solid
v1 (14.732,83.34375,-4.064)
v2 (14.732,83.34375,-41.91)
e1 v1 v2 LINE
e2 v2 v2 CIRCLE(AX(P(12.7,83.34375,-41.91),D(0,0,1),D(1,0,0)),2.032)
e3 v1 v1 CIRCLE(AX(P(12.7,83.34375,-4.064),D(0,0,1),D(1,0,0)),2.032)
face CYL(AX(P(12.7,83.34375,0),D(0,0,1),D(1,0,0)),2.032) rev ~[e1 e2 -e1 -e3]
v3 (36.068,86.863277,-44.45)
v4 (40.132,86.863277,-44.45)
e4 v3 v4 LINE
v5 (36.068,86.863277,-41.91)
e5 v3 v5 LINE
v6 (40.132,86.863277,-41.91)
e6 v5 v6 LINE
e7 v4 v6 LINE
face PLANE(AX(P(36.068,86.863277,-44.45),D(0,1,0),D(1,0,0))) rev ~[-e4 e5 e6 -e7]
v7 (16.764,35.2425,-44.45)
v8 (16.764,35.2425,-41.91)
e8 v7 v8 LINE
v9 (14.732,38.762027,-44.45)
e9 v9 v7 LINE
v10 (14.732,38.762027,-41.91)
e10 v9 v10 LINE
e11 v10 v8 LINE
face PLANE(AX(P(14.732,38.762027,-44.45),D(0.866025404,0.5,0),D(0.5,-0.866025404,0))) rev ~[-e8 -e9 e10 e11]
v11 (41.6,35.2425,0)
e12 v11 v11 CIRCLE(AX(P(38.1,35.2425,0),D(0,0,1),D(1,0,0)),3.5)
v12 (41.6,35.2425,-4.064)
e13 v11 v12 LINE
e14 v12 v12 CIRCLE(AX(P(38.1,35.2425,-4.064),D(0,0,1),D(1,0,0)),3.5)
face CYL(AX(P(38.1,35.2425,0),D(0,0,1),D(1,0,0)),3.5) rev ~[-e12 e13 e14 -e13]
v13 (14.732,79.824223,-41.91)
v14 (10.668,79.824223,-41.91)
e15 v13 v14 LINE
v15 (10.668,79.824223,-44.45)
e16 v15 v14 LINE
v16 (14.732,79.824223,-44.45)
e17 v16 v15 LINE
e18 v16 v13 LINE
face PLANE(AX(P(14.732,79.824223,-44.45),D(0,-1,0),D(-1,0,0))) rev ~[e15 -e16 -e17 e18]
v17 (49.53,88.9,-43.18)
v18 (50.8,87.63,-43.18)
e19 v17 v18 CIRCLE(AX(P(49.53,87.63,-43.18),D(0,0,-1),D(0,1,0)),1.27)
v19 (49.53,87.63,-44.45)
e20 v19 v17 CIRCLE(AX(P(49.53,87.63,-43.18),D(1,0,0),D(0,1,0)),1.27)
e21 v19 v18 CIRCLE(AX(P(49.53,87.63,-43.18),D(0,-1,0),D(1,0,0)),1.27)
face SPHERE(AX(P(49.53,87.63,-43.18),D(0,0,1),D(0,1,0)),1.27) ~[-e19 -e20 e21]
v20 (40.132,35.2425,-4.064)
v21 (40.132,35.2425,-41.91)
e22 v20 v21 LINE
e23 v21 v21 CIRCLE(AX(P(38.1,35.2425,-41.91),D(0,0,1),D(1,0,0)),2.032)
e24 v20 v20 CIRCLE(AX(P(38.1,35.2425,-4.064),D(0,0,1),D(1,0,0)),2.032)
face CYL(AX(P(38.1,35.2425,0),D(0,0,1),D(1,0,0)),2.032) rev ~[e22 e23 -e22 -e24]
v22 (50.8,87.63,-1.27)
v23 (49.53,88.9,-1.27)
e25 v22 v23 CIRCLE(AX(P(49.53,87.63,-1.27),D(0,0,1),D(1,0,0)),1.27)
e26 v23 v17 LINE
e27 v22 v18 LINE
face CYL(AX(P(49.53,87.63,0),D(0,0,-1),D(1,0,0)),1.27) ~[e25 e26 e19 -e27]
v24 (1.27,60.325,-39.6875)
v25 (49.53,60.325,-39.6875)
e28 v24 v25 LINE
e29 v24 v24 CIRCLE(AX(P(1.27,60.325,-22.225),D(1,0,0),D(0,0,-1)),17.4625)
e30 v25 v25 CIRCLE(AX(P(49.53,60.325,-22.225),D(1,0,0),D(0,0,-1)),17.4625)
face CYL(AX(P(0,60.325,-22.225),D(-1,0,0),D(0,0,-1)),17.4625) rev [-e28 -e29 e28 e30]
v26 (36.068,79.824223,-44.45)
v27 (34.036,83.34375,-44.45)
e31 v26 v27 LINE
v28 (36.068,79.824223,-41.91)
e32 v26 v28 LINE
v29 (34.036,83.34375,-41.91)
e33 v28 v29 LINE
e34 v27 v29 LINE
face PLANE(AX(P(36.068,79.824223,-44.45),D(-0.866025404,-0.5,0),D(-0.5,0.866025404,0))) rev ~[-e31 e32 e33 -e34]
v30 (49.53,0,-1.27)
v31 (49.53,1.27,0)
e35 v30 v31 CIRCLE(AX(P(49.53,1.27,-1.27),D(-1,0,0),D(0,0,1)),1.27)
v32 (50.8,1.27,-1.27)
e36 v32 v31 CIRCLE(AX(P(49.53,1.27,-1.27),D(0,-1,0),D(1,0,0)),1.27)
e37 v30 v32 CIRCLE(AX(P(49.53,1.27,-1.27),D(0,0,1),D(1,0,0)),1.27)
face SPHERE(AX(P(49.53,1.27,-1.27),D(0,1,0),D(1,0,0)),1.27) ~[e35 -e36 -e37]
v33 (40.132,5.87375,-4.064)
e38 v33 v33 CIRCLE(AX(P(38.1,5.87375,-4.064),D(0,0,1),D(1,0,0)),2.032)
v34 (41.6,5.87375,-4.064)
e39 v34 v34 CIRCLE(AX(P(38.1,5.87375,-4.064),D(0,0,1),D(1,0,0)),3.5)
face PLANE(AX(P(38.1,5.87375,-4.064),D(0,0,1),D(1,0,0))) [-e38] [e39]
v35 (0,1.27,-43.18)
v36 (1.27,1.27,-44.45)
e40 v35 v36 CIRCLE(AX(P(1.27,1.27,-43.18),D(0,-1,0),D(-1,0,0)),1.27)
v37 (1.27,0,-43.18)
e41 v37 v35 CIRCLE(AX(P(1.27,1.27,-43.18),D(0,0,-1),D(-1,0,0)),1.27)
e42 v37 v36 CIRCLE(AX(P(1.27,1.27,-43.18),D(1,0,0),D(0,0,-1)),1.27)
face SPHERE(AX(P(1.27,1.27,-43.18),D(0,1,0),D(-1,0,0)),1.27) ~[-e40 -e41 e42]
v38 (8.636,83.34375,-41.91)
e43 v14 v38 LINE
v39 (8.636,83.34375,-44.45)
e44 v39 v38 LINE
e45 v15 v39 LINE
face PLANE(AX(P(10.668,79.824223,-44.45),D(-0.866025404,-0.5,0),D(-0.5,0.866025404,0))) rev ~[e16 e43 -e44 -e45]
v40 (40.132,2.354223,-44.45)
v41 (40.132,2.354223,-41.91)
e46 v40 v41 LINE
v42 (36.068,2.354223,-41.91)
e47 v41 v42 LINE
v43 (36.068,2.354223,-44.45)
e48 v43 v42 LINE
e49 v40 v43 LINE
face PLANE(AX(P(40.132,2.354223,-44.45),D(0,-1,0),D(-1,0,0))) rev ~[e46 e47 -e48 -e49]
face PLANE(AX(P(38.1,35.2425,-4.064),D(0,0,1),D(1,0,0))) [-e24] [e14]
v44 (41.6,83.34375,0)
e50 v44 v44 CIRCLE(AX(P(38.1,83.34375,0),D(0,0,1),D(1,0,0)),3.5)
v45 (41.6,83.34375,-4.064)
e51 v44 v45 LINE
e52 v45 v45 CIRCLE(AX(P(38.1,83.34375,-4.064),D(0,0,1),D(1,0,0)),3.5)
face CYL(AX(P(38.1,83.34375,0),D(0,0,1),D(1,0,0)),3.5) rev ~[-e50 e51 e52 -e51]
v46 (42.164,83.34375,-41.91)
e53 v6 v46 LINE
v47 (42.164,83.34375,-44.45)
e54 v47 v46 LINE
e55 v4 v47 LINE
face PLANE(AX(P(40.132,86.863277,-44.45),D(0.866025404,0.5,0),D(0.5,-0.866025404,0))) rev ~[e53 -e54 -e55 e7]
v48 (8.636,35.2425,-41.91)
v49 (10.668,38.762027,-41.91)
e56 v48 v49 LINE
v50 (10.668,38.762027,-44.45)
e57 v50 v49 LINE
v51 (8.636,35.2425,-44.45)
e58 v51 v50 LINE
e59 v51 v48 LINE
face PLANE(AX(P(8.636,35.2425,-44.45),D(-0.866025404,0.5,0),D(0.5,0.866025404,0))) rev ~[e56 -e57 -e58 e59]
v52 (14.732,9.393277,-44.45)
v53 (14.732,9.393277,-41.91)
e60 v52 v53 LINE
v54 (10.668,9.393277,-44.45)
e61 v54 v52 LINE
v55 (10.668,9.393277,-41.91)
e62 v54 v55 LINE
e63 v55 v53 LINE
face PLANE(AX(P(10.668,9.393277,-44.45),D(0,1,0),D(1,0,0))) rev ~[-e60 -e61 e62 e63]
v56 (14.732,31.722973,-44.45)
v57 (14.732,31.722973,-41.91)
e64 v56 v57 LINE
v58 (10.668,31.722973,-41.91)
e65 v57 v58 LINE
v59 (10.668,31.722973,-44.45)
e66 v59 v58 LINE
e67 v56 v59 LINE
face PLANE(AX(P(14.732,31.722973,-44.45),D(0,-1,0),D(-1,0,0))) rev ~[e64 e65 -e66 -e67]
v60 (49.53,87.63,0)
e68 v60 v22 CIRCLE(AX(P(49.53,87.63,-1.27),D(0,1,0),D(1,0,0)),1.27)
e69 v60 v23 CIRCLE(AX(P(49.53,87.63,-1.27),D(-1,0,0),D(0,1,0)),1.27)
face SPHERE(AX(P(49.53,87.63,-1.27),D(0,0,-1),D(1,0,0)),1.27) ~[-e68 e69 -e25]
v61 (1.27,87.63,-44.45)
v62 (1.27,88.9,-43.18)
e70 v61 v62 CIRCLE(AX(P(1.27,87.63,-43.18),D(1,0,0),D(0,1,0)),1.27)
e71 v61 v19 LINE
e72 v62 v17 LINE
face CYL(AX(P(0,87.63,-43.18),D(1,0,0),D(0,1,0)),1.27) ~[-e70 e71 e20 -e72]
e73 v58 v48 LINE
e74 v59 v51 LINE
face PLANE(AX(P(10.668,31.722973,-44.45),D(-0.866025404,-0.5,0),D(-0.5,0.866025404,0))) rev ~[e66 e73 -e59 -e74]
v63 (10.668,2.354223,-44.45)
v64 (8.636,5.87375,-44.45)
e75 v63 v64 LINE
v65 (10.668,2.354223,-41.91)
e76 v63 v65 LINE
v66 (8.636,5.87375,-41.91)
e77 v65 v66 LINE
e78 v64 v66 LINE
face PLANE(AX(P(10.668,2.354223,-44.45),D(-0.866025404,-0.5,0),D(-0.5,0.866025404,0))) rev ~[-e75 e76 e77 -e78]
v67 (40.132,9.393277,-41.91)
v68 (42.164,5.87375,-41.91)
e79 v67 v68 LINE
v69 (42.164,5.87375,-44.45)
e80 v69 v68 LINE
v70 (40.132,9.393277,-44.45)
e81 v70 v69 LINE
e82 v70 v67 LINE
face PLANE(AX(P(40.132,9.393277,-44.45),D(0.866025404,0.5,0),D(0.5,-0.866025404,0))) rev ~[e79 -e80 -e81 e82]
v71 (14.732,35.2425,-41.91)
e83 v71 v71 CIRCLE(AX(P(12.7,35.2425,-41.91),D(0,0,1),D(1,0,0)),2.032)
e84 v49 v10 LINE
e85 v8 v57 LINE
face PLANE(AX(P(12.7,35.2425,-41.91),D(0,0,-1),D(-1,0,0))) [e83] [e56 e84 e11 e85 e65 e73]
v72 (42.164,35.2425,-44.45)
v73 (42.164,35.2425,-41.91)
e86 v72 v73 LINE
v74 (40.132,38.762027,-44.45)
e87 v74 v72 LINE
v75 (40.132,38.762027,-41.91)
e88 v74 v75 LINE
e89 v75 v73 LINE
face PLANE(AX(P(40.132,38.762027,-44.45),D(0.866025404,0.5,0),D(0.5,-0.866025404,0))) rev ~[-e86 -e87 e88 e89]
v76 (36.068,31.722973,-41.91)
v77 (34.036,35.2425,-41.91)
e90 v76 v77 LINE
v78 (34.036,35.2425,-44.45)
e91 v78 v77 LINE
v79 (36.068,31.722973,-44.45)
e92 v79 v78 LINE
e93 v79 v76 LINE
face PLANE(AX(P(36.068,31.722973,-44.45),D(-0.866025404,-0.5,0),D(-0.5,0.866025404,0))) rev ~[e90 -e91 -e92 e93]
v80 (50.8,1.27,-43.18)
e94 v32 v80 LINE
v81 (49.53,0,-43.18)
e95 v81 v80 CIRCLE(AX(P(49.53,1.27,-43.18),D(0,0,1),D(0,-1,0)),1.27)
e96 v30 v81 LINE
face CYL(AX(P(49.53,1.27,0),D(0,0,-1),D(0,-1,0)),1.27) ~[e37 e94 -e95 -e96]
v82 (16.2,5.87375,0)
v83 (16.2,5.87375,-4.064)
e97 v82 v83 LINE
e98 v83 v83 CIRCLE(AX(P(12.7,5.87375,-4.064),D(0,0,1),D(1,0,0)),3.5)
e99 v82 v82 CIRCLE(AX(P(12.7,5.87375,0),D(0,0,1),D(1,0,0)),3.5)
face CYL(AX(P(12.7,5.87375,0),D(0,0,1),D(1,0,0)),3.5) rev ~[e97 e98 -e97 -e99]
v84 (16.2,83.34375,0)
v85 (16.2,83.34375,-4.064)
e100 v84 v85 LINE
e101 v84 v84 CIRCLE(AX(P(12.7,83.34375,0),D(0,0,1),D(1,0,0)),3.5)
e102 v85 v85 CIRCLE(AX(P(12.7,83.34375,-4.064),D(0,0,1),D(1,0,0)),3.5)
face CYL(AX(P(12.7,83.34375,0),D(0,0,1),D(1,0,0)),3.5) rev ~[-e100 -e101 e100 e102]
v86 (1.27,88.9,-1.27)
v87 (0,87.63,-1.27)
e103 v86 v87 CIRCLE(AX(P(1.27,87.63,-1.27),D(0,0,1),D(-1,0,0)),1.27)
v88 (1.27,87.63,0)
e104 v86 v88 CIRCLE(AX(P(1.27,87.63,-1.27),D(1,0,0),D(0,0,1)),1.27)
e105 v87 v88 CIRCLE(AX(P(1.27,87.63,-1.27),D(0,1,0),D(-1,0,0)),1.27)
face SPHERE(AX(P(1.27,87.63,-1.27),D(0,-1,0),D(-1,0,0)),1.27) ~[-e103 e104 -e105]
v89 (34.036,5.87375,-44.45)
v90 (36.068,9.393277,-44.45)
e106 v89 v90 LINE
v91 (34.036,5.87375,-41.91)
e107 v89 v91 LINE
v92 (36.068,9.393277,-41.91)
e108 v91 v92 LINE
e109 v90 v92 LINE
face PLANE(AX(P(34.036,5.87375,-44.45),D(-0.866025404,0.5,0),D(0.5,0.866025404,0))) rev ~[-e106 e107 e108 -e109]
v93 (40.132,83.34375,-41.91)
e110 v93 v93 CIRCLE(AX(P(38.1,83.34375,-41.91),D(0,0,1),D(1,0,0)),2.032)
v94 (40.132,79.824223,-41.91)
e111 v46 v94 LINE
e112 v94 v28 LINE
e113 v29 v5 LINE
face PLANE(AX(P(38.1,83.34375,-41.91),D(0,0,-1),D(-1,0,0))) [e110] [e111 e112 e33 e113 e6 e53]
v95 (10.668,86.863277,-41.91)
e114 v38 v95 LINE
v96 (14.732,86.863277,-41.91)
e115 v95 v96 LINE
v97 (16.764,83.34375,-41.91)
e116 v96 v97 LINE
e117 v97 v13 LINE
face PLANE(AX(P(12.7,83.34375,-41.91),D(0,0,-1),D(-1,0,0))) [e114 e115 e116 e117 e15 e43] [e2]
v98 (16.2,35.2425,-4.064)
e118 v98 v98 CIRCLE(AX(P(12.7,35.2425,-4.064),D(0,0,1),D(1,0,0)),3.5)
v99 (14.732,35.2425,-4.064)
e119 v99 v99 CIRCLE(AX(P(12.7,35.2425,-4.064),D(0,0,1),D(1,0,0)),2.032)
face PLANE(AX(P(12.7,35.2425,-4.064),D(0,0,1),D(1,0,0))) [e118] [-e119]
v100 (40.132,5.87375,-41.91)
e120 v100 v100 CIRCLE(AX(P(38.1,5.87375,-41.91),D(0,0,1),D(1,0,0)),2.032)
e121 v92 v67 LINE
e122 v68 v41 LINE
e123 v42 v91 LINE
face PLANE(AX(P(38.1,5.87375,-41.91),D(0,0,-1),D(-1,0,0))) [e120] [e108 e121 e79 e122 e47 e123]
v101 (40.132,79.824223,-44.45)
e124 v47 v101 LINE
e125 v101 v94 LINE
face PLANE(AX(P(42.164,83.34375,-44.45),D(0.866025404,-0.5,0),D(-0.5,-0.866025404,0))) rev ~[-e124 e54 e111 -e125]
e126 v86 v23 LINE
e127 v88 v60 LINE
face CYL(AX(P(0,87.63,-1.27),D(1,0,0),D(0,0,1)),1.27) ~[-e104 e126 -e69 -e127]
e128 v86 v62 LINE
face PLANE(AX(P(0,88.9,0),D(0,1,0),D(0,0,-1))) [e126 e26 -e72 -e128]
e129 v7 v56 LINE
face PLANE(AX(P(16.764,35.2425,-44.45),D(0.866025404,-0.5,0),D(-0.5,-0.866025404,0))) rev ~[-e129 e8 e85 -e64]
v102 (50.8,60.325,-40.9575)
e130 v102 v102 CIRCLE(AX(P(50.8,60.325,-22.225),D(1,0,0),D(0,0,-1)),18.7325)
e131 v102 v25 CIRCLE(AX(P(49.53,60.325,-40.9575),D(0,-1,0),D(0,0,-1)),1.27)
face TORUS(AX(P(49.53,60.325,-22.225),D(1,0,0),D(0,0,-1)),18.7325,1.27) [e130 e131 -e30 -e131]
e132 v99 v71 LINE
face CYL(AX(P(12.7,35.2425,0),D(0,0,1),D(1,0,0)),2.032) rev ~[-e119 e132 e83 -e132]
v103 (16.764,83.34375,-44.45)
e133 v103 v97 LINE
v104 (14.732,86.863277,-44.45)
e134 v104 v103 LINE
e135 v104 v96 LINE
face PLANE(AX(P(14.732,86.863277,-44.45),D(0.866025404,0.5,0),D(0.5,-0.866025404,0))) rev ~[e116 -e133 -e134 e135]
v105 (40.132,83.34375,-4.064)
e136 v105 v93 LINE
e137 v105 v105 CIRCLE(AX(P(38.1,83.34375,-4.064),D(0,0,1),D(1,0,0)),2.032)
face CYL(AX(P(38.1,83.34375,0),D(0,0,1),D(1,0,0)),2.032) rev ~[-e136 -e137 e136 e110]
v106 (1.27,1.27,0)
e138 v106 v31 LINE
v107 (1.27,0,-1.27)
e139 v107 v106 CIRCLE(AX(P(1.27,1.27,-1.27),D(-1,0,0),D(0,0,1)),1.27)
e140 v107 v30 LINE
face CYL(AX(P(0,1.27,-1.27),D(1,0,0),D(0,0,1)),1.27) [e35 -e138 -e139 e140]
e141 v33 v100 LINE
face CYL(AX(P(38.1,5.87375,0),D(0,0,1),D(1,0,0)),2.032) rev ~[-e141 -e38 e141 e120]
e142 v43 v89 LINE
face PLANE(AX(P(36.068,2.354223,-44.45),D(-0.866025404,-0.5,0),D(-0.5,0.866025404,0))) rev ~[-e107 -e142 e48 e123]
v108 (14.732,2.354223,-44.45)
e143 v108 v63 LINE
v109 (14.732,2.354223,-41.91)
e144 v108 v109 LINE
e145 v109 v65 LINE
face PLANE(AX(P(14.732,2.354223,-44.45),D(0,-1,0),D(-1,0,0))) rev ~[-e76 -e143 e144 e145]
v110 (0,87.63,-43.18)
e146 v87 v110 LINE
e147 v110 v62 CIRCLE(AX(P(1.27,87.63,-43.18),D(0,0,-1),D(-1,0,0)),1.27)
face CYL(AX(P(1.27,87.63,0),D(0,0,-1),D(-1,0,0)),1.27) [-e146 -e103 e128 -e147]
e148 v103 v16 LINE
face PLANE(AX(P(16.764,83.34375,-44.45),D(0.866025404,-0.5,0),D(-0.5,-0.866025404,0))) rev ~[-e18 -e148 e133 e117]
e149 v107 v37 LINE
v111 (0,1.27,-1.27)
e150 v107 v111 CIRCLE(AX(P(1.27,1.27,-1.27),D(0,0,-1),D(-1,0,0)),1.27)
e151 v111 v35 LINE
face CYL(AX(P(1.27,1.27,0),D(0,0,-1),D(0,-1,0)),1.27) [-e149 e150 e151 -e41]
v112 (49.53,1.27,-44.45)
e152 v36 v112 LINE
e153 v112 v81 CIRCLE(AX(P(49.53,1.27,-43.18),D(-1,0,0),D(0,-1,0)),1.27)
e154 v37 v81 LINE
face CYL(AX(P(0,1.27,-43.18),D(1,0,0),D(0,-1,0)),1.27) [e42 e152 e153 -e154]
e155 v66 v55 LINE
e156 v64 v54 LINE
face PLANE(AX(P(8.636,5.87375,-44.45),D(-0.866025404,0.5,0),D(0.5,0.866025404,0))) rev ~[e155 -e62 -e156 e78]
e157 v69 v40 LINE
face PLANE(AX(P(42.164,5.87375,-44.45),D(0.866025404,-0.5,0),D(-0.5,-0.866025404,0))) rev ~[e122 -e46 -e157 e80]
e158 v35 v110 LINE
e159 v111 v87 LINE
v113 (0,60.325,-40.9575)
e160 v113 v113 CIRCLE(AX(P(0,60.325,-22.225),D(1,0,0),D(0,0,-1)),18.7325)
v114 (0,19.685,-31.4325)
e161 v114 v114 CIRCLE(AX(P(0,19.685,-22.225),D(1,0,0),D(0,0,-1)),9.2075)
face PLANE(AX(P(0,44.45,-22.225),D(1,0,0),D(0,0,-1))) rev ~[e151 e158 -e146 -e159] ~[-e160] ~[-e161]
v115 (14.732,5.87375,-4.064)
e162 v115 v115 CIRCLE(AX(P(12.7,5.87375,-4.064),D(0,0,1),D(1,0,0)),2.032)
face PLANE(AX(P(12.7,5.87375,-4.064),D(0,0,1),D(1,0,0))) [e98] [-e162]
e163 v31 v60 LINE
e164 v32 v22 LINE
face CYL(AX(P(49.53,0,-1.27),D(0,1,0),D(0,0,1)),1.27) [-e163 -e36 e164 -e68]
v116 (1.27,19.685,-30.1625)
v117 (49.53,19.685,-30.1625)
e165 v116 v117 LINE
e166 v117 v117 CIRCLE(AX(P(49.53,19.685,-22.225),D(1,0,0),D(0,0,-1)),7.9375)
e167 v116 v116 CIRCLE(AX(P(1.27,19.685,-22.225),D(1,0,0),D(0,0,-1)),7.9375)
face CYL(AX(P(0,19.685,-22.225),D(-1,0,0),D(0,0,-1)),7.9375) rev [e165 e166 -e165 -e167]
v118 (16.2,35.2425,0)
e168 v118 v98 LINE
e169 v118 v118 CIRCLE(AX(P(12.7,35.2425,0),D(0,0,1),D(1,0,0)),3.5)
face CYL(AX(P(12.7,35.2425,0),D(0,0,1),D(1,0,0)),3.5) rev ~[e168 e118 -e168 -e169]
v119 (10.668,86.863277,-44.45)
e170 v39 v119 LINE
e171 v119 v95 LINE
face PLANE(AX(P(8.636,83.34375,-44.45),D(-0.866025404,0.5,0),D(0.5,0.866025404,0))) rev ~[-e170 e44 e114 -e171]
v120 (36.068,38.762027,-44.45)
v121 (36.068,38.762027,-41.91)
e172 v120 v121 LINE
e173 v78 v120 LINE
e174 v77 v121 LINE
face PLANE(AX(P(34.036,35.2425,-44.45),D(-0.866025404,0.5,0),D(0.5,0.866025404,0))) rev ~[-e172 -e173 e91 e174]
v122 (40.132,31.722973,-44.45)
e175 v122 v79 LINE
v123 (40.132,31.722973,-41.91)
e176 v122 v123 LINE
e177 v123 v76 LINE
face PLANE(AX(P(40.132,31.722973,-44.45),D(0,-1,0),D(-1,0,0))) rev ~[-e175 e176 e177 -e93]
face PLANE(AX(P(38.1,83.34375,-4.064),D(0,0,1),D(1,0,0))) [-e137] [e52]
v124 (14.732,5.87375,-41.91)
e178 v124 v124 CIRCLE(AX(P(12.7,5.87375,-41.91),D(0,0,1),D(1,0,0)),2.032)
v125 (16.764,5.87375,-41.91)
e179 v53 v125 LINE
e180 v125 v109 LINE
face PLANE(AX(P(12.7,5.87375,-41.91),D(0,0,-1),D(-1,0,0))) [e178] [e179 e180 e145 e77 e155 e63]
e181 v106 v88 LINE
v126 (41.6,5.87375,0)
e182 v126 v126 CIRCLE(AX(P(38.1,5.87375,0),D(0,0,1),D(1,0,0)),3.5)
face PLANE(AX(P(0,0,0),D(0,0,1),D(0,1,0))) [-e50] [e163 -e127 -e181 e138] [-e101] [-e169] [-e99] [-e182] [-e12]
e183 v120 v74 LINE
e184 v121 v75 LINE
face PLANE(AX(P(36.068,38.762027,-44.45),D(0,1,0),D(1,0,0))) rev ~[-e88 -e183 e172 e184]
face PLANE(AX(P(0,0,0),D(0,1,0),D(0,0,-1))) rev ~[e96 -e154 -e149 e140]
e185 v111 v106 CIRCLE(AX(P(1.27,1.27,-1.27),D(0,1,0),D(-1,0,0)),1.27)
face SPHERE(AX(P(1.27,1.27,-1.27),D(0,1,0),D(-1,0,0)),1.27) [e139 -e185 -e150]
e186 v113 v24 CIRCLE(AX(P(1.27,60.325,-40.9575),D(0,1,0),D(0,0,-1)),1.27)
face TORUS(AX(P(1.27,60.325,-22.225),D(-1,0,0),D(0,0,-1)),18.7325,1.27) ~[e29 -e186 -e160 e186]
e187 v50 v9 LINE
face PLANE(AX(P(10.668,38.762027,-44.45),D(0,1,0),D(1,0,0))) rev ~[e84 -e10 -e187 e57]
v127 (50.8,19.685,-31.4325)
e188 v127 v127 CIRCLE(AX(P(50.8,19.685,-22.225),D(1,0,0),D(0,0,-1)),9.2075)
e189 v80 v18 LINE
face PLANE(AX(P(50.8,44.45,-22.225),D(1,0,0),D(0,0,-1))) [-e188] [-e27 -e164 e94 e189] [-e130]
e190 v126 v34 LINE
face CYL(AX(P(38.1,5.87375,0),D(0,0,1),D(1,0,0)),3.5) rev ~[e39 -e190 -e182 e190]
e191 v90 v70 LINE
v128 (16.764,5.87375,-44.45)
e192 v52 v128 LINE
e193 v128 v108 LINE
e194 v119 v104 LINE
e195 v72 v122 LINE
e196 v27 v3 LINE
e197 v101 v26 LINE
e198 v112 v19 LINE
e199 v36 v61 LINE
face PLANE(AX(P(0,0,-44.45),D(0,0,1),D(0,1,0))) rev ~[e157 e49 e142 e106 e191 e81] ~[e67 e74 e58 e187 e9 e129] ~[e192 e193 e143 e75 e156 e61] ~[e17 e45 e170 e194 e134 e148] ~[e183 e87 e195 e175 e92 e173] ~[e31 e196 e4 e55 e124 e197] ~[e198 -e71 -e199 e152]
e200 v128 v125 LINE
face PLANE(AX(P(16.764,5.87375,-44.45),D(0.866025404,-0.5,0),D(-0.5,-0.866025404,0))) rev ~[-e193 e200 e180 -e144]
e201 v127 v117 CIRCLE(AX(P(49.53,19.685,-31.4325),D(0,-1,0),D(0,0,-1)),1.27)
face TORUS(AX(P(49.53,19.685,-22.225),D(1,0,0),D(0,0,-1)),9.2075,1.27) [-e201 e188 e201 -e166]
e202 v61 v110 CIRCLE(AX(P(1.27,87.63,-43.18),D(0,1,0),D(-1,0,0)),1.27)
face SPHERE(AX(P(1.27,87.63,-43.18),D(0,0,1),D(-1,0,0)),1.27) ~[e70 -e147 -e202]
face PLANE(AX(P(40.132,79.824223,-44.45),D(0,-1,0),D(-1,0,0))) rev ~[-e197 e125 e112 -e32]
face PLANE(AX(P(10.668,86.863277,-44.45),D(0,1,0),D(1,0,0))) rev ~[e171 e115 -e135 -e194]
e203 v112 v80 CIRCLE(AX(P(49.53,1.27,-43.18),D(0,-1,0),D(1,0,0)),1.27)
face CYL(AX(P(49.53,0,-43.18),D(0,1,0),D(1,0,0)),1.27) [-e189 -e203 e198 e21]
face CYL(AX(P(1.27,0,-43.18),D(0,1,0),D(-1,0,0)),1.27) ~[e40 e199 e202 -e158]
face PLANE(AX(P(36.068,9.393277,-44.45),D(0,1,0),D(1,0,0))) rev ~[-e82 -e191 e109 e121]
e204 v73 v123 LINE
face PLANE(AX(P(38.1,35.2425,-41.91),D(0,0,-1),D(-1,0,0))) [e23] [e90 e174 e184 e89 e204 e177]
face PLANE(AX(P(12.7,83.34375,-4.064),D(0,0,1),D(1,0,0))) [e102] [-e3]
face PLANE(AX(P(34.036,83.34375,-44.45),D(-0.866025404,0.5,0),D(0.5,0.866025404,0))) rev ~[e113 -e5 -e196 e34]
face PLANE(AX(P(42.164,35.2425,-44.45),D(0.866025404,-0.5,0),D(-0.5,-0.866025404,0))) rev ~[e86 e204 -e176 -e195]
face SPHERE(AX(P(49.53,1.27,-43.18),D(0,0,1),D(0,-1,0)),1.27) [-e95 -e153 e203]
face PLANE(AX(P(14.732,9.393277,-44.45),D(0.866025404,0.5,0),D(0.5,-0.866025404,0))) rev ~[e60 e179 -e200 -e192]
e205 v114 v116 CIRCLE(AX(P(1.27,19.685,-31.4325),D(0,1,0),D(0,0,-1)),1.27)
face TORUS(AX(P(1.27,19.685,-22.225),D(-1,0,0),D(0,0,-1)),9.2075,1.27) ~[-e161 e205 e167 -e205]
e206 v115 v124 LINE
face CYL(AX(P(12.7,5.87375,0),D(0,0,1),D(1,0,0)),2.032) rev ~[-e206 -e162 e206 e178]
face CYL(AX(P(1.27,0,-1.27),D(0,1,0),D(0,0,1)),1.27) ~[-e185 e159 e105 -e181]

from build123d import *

# Parameters (mm, degrees)
SKETCH1_W           = 44.45
SKETCH1_H           = 88.9
SKETCH1_R           = 7.9375
SKETCH1_R_2         = 17.4625
BOSS_EXTRUDE1_DEPTH = 50.8
SKETCH5_R           = 2.032
CUT_EXTRUDE1_DEPTH  = 112.622813528
SKETCH5_3_R         = 3.5
CUT_EXTRUDE2_DEPTH  = 4.064
CUT_EXTRUDE3_START  = -2.54
SKETCH6_R           = 2.032
CUT_EXTRUDE3_DEPTH  = 2.54
FILLET1_R           = 1.27


with BuildPart() as part:
    # Sketch1 → Boss-Extrude1 (new body)
    with BuildSketch(Plane(origin=(0, 0, 0), x_dir=(0, 0, -1), z_dir=(1, 0, 0))):
        with Locations((22.225, 44.45)):
            Rectangle(SKETCH1_W, SKETCH1_H)
        with Locations((22.225, 19.685)):
            Circle(SKETCH1_R, mode=Mode.SUBTRACT)
        with Locations((22.225, 60.325)):
            Circle(SKETCH1_R_2, mode=Mode.SUBTRACT)
    extrude(amount=BOSS_EXTRUDE1_DEPTH)

    # Sketch5 → Cut-Extrude1 (cut, through all)
    with BuildSketch(Plane.XY):
        with Locations((38.1, 35.2425)):
            Circle(SKETCH5_R)
        with Locations((12.7, 83.34375)):
            Circle(SKETCH5_R)
        with Locations((38.1, 83.34375)):
            Circle(SKETCH5_R)
        with Locations((12.7, 35.2425)):
            Circle(SKETCH5_R)
        with Locations((38.1, 5.87375)):
            Circle(SKETCH5_R)
        with Locations((12.7, 5.87375)):
            Circle(SKETCH5_R)
    extrude(amount=-CUT_EXTRUDE1_DEPTH, mode=Mode.SUBTRACT)

    # Sketch5<3> → Cut-Extrude2 (cut)
    with BuildSketch(Plane.XY):
        with Locations((38.1, 35.2425)):
            Circle(SKETCH5_3_R)
        with Locations((12.7, 83.34375)):
            Circle(SKETCH5_3_R)
        with Locations((38.1, 83.34375)):
            Circle(SKETCH5_3_R)
        with Locations((12.7, 35.2425)):
            Circle(SKETCH5_3_R)
        with Locations((38.1, 5.87375)):
            Circle(SKETCH5_3_R)
        with Locations((12.7, 5.87375)):
            Circle(SKETCH5_3_R)
    extrude(amount=-CUT_EXTRUDE2_DEPTH, mode=Mode.SUBTRACT)

    # Sketch6 → Cut-Extrude3 (cut)
    # profile 1 of 6: a face of its own
    with BuildSketch(Plane(origin=(0, 0, -44.45), x_dir=(-1, 0, 0), z_dir=(0, 0, -1)).offset(CUT_EXTRUDE3_START)):
        Polygon((-10.668, 79.824222759), (-8.636, 83.34375), (-10.668, 86.863277241), (-14.732, 86.863277241), (-16.764, 83.34375), (-14.732, 79.824222759), align=None)
    # profile 2 of 6: a face of its own
    with BuildSketch(Plane(origin=(0, 0, -44.45), x_dir=(-1, 0, 0), z_dir=(0, 0, -1)).offset(CUT_EXTRUDE3_START)):
        Polygon((-36.068, 79.824222759), (-34.036, 83.34375), (-36.068, 86.863277241), (-40.132, 86.863277241), (-42.164, 83.34375), (-40.132, 79.824222759), align=None)
        with Locations((-38.1, 83.34375)):
            Circle(SKETCH6_R, mode=Mode.SUBTRACT)
    # profile 3 of 6: a face of its own
    with BuildSketch(Plane(origin=(0, 0, -44.45), x_dir=(-1, 0, 0), z_dir=(0, 0, -1)).offset(CUT_EXTRUDE3_START)):
        Polygon((-36.068, 31.722972759), (-34.036, 35.2425), (-36.068, 38.762027241), (-40.132, 38.762027241), (-42.164, 35.2425), (-40.132, 31.722972759), align=None)
        with Locations((-38.1, 35.2425)):
            Circle(SKETCH6_R, mode=Mode.SUBTRACT)
    # profile 4 of 6: a face of its own
    with BuildSketch(Plane(origin=(0, 0, -44.45), x_dir=(-1, 0, 0), z_dir=(0, 0, -1)).offset(CUT_EXTRUDE3_START)):
        Polygon((-10.668, 31.722972759), (-8.636, 35.2425), (-10.668, 38.762027241), (-14.732, 38.762027241), (-16.764, 35.2425), (-14.732, 31.722972759), align=None)
        with Locations((-12.7, 35.2425)):
            Circle(SKETCH6_R, mode=Mode.SUBTRACT)
    # profile 5 of 6: a face of its own
    with BuildSketch(Plane(origin=(0, 0, -44.45), x_dir=(-1, 0, 0), z_dir=(0, 0, -1)).offset(CUT_EXTRUDE3_START)):
        Polygon((-10.668, 2.354222759), (-8.636, 5.87375), (-10.668, 9.393277241), (-14.732, 9.393277241), (-16.764, 5.87375), (-14.732, 2.354222759), align=None)
        with Locations((-12.7, 5.87375)):
            Circle(SKETCH6_R, mode=Mode.SUBTRACT)
    # profile 6 of 6: a face of its own
    with BuildSketch(Plane(origin=(0, 0, -44.45), x_dir=(-1, 0, 0), z_dir=(0, 0, -1)).offset(CUT_EXTRUDE3_START)):
        Polygon((-36.068, 2.354222759), (-34.036, 5.87375), (-36.068, 9.393277241), (-40.132, 9.393277241), (-42.164, 5.87375), (-40.132, 2.354222759), align=None)
        with Locations((-38.1, 5.87375)):
            Circle(SKETCH6_R, mode=Mode.SUBTRACT)
    extrude(amount=CUT_EXTRUDE3_DEPTH, mode=Mode.SUBTRACT)

    # Fillet1
    fillet1_edges = [part.edges().sort_by_distance(p)[0] for p in [
        (25.4, 0, 0),
        (25.4, 0, -44.45),
        (0, 19.685, -14.2875),
        (0, 0, -22.225),
        (50.8, 19.685, -14.2875),
        (50.8, 0, -22.225),
        (50.8, 60.325, -4.7625),
        (50.8, 44.45, 0),
        (50.8, 44.45, -44.45),
        (0, 60.325, -4.7625),
        (0, 44.45, 0),
        (0, 44.45, -44.45),
        (25.4, 88.9, 0),
        (0, 88.9, -22.225),
        (50.8, 88.9, -22.225),
        (25.4, 88.9, -44.45),
    ]]
    fillet(fillet1_edges, radius=FILLET1_R)


solid = part.part
